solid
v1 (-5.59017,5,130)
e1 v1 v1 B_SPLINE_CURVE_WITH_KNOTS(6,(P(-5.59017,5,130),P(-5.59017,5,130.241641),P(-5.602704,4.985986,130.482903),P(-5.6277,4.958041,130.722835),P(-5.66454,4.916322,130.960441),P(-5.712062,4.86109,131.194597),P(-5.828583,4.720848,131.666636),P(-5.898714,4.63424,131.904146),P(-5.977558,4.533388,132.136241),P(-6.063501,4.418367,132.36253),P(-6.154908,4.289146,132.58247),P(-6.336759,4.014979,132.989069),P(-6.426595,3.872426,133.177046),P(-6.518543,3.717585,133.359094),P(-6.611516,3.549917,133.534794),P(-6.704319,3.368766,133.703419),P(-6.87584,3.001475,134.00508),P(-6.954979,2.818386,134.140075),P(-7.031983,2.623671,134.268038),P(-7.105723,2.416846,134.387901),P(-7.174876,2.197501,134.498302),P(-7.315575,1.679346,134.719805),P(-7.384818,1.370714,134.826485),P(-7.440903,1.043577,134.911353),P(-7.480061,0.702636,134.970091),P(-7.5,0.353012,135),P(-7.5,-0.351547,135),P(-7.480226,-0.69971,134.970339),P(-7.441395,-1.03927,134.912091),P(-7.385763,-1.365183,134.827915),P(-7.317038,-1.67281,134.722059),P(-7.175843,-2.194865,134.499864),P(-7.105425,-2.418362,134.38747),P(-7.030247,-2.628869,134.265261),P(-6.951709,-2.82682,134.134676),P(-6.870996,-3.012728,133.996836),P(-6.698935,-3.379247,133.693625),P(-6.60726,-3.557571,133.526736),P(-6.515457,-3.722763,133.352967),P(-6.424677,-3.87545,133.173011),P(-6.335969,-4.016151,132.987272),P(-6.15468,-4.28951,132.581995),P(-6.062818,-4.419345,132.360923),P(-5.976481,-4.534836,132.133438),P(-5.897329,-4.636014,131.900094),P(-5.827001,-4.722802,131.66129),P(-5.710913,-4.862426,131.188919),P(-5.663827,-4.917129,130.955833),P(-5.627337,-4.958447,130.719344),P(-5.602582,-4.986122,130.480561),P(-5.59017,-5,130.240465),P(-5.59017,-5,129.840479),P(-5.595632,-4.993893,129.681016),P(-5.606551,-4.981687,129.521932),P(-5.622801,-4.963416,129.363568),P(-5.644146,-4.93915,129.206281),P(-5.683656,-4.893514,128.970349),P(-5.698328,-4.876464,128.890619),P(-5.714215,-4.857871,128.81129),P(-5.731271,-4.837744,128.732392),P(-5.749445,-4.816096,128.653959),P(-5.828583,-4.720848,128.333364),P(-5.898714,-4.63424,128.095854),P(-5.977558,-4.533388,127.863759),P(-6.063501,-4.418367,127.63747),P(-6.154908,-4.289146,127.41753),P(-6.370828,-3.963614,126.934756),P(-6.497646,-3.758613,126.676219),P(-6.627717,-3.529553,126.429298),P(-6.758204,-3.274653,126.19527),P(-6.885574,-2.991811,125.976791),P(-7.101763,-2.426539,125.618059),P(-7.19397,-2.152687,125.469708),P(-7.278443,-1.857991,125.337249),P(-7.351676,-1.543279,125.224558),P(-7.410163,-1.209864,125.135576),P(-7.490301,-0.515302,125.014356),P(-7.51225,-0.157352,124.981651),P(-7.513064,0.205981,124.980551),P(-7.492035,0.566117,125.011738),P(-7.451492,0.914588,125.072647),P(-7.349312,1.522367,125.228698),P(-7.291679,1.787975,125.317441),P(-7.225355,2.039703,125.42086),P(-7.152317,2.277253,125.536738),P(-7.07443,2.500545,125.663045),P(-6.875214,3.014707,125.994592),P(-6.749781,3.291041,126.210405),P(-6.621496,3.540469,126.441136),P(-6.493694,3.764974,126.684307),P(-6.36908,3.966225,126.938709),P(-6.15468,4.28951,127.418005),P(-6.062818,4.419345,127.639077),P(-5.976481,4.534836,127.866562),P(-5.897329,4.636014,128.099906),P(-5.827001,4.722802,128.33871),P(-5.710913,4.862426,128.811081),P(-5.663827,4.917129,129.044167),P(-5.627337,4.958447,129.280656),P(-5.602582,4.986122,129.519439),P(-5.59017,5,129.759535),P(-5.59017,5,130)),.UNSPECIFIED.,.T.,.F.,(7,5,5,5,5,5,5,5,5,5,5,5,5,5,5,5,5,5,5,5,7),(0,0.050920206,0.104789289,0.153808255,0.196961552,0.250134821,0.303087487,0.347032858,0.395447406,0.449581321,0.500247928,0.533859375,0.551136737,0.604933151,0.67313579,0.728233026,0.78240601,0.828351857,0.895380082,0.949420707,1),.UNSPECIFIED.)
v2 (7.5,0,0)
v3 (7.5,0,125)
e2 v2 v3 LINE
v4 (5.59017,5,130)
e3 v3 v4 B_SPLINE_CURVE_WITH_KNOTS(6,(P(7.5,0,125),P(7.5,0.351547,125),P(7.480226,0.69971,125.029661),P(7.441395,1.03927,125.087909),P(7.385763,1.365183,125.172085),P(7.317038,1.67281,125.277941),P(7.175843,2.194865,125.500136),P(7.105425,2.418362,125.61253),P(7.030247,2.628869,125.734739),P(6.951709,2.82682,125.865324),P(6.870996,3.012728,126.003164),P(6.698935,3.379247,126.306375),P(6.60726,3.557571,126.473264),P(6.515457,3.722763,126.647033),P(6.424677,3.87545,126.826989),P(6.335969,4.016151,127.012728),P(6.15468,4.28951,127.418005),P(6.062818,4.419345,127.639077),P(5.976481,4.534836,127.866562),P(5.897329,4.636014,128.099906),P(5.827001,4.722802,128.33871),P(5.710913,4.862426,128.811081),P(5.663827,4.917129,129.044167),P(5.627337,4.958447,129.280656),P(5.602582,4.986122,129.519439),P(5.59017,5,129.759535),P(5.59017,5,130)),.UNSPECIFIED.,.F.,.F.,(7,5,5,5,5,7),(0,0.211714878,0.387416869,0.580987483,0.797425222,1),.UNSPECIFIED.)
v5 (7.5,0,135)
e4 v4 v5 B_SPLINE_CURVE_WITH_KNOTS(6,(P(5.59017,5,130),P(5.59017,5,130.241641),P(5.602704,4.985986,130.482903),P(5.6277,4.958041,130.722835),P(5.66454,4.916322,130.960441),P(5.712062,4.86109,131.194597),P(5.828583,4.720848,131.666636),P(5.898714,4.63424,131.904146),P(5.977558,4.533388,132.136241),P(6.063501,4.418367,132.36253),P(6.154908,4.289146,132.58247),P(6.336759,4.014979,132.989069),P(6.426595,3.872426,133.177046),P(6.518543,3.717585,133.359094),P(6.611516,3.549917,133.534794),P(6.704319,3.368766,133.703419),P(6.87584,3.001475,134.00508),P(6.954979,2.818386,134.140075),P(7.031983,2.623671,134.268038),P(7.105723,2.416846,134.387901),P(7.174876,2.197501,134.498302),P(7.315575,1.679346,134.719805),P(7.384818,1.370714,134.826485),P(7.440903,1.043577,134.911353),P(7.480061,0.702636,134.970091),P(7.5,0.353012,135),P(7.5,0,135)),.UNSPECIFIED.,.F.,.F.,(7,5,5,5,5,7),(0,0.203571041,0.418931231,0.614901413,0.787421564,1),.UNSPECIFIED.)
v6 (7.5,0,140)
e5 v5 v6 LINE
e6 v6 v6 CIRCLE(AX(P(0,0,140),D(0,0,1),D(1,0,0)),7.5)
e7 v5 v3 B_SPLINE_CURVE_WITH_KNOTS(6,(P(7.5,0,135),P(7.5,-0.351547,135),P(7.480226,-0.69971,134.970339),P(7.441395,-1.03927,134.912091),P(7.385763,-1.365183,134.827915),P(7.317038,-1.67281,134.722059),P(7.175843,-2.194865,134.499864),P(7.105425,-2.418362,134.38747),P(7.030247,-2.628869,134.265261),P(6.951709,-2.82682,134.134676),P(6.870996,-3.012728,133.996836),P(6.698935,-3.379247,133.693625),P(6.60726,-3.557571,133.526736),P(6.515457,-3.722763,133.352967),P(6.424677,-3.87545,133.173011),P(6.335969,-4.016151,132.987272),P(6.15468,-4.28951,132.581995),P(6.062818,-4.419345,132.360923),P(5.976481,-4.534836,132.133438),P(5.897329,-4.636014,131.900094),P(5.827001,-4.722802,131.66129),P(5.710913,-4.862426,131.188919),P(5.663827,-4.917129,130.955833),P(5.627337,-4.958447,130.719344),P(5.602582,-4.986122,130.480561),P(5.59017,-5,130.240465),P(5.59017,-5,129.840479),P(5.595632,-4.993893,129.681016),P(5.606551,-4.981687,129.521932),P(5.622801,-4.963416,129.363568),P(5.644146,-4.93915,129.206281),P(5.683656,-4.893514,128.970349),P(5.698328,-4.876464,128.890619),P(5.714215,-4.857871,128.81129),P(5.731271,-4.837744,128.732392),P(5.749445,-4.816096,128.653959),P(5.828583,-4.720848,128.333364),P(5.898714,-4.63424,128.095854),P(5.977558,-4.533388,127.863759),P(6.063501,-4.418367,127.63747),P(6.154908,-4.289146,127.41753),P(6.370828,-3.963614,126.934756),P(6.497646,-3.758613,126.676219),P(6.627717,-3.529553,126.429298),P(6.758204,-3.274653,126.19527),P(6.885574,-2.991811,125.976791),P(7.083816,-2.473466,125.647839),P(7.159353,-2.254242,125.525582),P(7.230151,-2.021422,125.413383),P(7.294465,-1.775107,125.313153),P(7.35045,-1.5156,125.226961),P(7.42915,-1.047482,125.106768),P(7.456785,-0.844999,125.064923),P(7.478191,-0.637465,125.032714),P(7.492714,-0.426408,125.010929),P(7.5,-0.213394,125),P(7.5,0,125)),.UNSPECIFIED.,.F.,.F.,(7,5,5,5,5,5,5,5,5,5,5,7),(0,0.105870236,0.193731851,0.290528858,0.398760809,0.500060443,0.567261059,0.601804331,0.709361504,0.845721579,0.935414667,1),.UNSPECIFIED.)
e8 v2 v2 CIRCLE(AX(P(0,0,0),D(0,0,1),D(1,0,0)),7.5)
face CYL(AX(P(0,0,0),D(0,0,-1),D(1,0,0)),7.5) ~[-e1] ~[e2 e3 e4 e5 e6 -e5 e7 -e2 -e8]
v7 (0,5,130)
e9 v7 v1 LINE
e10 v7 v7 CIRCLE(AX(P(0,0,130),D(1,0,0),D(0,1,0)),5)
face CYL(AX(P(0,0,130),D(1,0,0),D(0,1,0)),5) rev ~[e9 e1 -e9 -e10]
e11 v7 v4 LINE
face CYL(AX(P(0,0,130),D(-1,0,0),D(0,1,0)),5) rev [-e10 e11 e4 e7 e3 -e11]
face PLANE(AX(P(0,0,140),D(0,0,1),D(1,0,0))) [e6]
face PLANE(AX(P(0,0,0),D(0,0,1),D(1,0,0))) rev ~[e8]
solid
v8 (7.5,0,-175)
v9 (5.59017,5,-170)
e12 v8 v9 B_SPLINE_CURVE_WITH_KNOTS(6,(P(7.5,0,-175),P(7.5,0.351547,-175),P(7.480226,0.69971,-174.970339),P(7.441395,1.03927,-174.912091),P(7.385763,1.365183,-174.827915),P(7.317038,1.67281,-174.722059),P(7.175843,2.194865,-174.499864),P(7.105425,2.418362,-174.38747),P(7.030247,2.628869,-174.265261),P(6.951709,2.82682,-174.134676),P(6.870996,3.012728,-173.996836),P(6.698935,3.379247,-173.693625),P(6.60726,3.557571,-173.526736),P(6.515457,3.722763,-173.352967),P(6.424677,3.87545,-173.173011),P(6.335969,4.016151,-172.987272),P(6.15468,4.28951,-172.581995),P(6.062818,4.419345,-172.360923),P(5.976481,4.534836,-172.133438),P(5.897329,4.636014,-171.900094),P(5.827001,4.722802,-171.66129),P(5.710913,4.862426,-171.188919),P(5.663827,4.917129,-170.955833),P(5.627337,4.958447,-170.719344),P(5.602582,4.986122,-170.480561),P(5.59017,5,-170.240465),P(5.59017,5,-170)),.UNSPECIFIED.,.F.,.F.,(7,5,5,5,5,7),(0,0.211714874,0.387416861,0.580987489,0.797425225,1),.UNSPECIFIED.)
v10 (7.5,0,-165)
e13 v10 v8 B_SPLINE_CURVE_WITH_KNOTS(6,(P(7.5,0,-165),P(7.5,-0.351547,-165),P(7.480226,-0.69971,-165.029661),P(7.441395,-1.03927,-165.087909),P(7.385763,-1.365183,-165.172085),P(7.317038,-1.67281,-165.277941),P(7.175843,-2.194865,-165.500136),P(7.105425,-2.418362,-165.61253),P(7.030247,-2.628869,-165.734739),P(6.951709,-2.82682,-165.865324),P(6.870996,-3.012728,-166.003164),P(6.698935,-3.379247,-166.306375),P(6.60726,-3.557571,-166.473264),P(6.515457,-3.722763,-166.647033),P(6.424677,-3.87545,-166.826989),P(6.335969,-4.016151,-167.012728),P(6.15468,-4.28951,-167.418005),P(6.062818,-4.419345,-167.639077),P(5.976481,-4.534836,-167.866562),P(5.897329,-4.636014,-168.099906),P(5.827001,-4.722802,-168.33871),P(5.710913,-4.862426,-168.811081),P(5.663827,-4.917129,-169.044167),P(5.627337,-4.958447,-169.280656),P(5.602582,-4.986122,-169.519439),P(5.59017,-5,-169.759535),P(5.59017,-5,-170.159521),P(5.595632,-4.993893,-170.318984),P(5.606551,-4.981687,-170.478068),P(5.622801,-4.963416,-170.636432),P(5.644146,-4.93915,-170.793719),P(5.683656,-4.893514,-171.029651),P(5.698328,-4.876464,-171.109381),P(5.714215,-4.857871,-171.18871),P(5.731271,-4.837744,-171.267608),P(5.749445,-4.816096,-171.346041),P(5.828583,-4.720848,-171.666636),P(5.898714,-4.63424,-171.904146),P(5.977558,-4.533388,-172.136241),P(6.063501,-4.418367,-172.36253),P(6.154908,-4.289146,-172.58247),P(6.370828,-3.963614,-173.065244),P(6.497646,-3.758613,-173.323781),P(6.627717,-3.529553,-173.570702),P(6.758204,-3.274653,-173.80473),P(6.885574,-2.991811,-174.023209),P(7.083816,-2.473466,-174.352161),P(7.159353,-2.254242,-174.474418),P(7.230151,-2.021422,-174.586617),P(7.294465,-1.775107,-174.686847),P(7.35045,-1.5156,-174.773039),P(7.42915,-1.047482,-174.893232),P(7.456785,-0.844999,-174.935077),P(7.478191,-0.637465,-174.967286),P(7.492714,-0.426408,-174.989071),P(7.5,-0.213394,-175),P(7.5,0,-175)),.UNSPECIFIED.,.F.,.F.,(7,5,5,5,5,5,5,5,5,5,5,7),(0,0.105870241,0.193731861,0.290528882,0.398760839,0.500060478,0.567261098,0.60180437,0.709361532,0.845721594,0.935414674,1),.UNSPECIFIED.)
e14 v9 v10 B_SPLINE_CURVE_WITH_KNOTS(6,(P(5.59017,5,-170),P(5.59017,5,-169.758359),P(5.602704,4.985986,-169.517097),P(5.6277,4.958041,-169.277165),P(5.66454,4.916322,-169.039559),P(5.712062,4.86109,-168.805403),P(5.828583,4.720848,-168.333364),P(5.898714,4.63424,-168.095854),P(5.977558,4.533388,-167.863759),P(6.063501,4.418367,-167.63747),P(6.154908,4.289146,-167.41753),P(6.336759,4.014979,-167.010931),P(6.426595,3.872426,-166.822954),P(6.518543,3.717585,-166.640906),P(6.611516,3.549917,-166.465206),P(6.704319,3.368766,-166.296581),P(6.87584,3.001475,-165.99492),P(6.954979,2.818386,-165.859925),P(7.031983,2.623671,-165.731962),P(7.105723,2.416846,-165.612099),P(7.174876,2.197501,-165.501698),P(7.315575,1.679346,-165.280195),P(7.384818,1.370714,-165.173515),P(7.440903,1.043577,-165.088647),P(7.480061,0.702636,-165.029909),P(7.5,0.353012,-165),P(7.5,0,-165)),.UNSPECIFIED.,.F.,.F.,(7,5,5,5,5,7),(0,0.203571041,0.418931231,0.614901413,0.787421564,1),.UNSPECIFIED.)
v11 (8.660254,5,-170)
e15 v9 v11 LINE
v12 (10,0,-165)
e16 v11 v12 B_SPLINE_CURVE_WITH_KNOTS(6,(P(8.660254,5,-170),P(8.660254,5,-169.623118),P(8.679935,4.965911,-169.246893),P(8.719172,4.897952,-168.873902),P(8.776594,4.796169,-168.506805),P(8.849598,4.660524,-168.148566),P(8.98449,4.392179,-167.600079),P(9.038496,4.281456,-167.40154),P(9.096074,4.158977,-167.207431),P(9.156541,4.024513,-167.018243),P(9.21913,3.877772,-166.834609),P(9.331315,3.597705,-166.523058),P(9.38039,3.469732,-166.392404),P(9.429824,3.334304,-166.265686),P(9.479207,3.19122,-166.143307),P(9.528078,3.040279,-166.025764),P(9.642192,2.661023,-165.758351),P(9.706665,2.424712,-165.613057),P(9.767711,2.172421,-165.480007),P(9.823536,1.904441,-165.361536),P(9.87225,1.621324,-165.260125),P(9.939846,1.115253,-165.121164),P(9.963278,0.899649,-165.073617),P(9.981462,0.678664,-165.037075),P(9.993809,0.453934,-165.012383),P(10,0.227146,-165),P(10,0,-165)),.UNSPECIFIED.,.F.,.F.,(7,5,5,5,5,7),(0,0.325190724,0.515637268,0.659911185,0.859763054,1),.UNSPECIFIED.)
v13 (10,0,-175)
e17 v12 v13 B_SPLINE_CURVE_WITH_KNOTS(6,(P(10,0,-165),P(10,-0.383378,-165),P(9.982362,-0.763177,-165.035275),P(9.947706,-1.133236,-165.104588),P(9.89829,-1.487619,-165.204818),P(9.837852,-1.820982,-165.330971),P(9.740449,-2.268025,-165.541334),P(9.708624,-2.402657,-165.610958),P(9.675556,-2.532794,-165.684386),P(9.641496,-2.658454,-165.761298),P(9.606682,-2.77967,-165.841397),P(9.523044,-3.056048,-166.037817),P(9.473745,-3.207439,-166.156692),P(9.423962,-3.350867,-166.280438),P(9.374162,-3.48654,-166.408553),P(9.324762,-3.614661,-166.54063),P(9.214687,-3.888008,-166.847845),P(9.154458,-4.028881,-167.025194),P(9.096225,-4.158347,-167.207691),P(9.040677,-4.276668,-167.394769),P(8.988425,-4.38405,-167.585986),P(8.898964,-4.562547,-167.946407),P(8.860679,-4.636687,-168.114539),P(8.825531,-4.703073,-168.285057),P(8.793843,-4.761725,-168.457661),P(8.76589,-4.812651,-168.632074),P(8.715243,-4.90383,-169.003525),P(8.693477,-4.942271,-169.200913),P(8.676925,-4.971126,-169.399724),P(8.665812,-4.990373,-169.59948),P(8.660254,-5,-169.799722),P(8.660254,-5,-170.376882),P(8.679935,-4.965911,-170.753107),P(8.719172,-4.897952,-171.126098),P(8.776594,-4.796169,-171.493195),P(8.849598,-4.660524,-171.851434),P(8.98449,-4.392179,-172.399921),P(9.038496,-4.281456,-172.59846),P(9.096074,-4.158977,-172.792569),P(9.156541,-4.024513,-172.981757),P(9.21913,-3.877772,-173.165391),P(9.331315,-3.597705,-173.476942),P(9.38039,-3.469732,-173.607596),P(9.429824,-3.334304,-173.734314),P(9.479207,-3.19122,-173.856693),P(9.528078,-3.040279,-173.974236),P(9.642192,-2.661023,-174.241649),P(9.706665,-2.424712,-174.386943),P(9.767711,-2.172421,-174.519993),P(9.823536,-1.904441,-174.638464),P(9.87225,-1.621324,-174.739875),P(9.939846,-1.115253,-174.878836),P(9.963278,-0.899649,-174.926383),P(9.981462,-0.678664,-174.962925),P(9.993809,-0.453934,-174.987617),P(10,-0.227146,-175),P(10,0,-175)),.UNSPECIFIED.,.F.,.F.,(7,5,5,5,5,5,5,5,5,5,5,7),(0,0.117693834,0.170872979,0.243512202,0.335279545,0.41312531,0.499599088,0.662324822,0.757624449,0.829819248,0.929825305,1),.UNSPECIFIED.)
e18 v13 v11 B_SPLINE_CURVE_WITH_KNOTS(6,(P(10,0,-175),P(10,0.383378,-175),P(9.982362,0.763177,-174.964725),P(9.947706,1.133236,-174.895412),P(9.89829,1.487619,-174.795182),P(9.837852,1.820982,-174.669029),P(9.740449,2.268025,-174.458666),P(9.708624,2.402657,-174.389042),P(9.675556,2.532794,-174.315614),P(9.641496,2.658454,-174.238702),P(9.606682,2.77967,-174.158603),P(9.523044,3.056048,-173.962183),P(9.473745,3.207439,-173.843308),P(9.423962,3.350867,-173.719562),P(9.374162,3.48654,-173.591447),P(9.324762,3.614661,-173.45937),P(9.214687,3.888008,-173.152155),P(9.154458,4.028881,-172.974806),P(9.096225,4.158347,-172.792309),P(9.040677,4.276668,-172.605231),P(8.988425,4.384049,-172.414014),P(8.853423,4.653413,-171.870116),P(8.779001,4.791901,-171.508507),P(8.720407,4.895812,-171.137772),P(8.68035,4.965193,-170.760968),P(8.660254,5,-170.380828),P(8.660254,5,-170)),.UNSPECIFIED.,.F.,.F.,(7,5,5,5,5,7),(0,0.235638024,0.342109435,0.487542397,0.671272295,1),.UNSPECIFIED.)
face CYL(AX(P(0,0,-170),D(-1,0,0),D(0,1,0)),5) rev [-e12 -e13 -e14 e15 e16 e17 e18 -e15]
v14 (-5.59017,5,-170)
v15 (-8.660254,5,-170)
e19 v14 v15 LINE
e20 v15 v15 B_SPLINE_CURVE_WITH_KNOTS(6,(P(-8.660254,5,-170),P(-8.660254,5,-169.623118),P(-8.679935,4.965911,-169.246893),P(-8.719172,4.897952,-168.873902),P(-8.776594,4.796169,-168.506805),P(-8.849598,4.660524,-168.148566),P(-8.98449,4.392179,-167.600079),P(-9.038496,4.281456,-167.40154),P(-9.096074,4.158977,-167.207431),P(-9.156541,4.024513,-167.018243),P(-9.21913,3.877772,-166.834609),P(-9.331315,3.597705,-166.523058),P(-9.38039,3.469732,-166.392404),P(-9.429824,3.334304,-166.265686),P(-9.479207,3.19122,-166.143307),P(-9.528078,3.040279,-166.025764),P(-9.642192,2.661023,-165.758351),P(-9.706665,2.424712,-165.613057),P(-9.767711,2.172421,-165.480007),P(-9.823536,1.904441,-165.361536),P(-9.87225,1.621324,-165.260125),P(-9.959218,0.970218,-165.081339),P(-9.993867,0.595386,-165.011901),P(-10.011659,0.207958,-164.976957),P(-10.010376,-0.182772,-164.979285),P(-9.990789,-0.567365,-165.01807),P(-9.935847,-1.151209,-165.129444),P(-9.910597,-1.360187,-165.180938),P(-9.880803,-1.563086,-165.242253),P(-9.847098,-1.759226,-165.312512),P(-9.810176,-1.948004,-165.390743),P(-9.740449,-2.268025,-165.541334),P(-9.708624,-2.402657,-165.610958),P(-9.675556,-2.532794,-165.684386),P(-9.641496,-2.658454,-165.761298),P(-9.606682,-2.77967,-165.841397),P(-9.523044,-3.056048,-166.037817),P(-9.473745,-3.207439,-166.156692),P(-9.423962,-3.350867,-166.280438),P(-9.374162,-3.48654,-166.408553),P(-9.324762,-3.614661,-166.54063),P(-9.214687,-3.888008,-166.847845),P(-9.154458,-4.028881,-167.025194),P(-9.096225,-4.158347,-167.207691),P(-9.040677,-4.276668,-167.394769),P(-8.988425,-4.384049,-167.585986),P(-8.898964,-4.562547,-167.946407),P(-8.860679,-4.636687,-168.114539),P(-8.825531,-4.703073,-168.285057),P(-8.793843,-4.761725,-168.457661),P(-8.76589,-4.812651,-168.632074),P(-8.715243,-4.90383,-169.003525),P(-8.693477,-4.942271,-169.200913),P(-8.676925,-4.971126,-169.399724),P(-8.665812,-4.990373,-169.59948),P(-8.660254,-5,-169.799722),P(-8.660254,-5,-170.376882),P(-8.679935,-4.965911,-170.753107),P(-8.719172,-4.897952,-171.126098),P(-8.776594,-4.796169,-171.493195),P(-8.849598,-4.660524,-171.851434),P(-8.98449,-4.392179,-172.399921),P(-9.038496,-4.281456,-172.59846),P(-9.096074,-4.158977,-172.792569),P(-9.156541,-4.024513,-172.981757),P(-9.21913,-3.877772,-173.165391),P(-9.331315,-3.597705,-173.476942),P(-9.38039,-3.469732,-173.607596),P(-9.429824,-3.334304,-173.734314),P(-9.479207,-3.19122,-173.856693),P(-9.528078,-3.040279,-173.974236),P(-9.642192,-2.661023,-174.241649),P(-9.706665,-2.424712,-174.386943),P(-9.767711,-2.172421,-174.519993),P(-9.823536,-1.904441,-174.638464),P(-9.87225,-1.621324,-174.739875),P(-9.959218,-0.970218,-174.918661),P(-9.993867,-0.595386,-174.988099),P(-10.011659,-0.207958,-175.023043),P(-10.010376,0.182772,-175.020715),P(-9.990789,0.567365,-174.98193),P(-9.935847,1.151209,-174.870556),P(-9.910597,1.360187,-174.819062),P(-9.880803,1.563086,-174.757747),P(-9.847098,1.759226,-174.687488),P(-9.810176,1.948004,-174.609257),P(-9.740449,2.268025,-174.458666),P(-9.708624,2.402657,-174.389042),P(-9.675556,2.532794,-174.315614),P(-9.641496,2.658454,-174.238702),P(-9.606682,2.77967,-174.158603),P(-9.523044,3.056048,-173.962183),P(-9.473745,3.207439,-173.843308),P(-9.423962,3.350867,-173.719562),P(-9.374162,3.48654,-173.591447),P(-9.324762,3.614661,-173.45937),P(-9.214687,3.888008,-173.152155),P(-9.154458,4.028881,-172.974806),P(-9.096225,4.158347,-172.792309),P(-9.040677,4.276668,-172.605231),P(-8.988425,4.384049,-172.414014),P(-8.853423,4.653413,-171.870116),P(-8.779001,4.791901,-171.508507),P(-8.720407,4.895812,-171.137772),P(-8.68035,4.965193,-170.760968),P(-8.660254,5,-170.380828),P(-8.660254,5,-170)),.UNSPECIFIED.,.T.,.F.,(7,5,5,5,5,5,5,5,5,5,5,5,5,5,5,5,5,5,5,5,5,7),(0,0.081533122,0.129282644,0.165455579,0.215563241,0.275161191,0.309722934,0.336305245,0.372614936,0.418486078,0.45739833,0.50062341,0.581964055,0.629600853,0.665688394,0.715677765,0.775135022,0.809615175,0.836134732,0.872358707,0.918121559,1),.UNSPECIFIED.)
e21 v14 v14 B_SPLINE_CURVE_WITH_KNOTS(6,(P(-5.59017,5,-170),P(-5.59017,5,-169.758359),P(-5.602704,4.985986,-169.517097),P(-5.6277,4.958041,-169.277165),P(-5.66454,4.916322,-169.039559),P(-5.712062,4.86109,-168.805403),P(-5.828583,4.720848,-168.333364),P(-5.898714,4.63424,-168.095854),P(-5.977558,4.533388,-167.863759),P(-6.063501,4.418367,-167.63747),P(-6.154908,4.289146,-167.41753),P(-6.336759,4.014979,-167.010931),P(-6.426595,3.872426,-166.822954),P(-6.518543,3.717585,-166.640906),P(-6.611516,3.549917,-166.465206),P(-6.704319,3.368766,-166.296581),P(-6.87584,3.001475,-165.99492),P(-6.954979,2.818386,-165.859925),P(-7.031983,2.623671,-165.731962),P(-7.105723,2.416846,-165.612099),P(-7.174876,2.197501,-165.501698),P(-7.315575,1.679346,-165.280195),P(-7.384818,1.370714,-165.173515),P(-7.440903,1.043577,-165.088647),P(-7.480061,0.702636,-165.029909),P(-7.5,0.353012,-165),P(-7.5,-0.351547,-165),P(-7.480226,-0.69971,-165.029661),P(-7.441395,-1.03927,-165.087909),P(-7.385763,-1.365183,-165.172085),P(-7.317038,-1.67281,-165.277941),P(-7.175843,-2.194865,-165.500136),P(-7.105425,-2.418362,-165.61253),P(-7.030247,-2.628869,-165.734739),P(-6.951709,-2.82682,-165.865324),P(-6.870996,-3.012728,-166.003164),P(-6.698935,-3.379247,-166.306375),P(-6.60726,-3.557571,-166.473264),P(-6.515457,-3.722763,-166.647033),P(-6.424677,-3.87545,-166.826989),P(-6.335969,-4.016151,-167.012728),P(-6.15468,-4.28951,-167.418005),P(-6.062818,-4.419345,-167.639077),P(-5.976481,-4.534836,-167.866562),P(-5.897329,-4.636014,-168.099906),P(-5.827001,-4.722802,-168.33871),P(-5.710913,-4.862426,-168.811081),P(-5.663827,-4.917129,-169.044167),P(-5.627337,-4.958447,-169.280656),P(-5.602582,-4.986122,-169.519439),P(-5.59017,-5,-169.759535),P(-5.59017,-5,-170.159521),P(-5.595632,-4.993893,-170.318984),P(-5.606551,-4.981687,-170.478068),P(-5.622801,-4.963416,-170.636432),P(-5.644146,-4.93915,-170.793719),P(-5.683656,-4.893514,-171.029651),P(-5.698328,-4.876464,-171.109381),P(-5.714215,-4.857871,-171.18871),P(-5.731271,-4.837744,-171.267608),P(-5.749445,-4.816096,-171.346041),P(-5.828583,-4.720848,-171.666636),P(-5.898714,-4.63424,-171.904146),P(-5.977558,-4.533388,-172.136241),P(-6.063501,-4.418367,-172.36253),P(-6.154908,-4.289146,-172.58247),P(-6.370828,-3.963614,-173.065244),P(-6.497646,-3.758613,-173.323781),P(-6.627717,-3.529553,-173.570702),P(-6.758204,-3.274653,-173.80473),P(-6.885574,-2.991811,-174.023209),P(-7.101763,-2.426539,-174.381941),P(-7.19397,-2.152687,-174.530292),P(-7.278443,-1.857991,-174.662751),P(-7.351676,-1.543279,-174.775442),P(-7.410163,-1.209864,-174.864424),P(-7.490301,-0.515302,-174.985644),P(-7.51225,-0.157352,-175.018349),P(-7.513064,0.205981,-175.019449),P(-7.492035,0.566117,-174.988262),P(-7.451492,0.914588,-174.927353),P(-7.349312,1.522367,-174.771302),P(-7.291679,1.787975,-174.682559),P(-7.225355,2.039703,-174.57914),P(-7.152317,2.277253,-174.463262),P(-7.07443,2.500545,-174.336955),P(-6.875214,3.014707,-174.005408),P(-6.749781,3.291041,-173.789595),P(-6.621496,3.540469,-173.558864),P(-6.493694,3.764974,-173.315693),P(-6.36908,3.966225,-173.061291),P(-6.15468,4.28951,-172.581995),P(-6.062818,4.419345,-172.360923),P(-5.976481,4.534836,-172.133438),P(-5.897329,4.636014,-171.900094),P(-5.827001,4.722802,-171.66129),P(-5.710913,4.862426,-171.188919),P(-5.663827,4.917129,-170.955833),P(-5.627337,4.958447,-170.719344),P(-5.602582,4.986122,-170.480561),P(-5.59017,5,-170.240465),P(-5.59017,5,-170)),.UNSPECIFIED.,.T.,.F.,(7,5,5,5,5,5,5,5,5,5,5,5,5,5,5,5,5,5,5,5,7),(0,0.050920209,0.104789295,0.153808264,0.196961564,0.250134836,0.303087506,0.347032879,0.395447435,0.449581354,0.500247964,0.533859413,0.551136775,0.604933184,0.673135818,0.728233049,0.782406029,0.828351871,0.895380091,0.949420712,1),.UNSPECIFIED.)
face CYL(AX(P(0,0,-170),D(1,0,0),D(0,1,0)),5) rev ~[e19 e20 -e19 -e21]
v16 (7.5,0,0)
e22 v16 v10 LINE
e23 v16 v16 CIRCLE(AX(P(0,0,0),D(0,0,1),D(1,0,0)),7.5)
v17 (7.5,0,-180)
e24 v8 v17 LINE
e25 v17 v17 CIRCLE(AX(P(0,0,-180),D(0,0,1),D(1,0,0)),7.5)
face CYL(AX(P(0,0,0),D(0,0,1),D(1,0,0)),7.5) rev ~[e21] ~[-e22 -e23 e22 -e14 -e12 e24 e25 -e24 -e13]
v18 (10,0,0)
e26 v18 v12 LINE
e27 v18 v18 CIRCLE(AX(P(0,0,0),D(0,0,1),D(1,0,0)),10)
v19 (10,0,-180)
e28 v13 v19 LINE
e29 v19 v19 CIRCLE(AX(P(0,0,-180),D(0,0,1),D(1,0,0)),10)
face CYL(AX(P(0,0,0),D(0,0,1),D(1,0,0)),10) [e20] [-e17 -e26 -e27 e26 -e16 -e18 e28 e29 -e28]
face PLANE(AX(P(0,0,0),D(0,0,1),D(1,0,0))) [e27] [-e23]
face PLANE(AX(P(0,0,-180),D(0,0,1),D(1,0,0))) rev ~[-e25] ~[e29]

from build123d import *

# Parameters (mm, degrees)
F0_R          = 7.5
F1_DEPTH      = 140
F2_R          = 5
F3_DEPTH      = 7.5
F3_DEPTH_BACK = 7.5
F4_R          = 10
F4_R_2        = 7.5
F5_DEPTH      = 180
F6_R          = 5
F7_DEPTH      = 20
F7_DEPTH_BACK = 20


with BuildPart() as f1:
    # F0 (on Top) → F1 (new body)
    with BuildSketch(Plane.XY):
        Circle(F0_R)
    extrude(amount=F1_DEPTH)

    # F2 (on Right) → F3 (cut, two sides)
    with BuildSketch(Plane.YZ) as f3_sk:
        with Locations((0, 130)):
            Circle(F2_R)
    extrude(amount=F3_DEPTH, mode=Mode.SUBTRACT)
    extrude(f3_sk.sketch, amount=-F3_DEPTH_BACK, mode=Mode.SUBTRACT)


with BuildPart() as f5:
    # F4 (on Top) → F5 (new body)
    with BuildSketch(Plane.XY):
        Circle(F4_R)
        Circle(F4_R_2, mode=Mode.SUBTRACT)
    extrude(amount=-F5_DEPTH)

    # F6 (on Right) → F7 (cut, two sides)
    with BuildSketch(Plane.YZ) as f7_sk:
        with Locations((0, -170)):
            Circle(F6_R)
    extrude(amount=F7_DEPTH, mode=Mode.SUBTRACT)
    extrude(f7_sk.sketch, amount=-F7_DEPTH_BACK, mode=Mode.SUBTRACT)


solid = Compound([f1.part, f5.part])
